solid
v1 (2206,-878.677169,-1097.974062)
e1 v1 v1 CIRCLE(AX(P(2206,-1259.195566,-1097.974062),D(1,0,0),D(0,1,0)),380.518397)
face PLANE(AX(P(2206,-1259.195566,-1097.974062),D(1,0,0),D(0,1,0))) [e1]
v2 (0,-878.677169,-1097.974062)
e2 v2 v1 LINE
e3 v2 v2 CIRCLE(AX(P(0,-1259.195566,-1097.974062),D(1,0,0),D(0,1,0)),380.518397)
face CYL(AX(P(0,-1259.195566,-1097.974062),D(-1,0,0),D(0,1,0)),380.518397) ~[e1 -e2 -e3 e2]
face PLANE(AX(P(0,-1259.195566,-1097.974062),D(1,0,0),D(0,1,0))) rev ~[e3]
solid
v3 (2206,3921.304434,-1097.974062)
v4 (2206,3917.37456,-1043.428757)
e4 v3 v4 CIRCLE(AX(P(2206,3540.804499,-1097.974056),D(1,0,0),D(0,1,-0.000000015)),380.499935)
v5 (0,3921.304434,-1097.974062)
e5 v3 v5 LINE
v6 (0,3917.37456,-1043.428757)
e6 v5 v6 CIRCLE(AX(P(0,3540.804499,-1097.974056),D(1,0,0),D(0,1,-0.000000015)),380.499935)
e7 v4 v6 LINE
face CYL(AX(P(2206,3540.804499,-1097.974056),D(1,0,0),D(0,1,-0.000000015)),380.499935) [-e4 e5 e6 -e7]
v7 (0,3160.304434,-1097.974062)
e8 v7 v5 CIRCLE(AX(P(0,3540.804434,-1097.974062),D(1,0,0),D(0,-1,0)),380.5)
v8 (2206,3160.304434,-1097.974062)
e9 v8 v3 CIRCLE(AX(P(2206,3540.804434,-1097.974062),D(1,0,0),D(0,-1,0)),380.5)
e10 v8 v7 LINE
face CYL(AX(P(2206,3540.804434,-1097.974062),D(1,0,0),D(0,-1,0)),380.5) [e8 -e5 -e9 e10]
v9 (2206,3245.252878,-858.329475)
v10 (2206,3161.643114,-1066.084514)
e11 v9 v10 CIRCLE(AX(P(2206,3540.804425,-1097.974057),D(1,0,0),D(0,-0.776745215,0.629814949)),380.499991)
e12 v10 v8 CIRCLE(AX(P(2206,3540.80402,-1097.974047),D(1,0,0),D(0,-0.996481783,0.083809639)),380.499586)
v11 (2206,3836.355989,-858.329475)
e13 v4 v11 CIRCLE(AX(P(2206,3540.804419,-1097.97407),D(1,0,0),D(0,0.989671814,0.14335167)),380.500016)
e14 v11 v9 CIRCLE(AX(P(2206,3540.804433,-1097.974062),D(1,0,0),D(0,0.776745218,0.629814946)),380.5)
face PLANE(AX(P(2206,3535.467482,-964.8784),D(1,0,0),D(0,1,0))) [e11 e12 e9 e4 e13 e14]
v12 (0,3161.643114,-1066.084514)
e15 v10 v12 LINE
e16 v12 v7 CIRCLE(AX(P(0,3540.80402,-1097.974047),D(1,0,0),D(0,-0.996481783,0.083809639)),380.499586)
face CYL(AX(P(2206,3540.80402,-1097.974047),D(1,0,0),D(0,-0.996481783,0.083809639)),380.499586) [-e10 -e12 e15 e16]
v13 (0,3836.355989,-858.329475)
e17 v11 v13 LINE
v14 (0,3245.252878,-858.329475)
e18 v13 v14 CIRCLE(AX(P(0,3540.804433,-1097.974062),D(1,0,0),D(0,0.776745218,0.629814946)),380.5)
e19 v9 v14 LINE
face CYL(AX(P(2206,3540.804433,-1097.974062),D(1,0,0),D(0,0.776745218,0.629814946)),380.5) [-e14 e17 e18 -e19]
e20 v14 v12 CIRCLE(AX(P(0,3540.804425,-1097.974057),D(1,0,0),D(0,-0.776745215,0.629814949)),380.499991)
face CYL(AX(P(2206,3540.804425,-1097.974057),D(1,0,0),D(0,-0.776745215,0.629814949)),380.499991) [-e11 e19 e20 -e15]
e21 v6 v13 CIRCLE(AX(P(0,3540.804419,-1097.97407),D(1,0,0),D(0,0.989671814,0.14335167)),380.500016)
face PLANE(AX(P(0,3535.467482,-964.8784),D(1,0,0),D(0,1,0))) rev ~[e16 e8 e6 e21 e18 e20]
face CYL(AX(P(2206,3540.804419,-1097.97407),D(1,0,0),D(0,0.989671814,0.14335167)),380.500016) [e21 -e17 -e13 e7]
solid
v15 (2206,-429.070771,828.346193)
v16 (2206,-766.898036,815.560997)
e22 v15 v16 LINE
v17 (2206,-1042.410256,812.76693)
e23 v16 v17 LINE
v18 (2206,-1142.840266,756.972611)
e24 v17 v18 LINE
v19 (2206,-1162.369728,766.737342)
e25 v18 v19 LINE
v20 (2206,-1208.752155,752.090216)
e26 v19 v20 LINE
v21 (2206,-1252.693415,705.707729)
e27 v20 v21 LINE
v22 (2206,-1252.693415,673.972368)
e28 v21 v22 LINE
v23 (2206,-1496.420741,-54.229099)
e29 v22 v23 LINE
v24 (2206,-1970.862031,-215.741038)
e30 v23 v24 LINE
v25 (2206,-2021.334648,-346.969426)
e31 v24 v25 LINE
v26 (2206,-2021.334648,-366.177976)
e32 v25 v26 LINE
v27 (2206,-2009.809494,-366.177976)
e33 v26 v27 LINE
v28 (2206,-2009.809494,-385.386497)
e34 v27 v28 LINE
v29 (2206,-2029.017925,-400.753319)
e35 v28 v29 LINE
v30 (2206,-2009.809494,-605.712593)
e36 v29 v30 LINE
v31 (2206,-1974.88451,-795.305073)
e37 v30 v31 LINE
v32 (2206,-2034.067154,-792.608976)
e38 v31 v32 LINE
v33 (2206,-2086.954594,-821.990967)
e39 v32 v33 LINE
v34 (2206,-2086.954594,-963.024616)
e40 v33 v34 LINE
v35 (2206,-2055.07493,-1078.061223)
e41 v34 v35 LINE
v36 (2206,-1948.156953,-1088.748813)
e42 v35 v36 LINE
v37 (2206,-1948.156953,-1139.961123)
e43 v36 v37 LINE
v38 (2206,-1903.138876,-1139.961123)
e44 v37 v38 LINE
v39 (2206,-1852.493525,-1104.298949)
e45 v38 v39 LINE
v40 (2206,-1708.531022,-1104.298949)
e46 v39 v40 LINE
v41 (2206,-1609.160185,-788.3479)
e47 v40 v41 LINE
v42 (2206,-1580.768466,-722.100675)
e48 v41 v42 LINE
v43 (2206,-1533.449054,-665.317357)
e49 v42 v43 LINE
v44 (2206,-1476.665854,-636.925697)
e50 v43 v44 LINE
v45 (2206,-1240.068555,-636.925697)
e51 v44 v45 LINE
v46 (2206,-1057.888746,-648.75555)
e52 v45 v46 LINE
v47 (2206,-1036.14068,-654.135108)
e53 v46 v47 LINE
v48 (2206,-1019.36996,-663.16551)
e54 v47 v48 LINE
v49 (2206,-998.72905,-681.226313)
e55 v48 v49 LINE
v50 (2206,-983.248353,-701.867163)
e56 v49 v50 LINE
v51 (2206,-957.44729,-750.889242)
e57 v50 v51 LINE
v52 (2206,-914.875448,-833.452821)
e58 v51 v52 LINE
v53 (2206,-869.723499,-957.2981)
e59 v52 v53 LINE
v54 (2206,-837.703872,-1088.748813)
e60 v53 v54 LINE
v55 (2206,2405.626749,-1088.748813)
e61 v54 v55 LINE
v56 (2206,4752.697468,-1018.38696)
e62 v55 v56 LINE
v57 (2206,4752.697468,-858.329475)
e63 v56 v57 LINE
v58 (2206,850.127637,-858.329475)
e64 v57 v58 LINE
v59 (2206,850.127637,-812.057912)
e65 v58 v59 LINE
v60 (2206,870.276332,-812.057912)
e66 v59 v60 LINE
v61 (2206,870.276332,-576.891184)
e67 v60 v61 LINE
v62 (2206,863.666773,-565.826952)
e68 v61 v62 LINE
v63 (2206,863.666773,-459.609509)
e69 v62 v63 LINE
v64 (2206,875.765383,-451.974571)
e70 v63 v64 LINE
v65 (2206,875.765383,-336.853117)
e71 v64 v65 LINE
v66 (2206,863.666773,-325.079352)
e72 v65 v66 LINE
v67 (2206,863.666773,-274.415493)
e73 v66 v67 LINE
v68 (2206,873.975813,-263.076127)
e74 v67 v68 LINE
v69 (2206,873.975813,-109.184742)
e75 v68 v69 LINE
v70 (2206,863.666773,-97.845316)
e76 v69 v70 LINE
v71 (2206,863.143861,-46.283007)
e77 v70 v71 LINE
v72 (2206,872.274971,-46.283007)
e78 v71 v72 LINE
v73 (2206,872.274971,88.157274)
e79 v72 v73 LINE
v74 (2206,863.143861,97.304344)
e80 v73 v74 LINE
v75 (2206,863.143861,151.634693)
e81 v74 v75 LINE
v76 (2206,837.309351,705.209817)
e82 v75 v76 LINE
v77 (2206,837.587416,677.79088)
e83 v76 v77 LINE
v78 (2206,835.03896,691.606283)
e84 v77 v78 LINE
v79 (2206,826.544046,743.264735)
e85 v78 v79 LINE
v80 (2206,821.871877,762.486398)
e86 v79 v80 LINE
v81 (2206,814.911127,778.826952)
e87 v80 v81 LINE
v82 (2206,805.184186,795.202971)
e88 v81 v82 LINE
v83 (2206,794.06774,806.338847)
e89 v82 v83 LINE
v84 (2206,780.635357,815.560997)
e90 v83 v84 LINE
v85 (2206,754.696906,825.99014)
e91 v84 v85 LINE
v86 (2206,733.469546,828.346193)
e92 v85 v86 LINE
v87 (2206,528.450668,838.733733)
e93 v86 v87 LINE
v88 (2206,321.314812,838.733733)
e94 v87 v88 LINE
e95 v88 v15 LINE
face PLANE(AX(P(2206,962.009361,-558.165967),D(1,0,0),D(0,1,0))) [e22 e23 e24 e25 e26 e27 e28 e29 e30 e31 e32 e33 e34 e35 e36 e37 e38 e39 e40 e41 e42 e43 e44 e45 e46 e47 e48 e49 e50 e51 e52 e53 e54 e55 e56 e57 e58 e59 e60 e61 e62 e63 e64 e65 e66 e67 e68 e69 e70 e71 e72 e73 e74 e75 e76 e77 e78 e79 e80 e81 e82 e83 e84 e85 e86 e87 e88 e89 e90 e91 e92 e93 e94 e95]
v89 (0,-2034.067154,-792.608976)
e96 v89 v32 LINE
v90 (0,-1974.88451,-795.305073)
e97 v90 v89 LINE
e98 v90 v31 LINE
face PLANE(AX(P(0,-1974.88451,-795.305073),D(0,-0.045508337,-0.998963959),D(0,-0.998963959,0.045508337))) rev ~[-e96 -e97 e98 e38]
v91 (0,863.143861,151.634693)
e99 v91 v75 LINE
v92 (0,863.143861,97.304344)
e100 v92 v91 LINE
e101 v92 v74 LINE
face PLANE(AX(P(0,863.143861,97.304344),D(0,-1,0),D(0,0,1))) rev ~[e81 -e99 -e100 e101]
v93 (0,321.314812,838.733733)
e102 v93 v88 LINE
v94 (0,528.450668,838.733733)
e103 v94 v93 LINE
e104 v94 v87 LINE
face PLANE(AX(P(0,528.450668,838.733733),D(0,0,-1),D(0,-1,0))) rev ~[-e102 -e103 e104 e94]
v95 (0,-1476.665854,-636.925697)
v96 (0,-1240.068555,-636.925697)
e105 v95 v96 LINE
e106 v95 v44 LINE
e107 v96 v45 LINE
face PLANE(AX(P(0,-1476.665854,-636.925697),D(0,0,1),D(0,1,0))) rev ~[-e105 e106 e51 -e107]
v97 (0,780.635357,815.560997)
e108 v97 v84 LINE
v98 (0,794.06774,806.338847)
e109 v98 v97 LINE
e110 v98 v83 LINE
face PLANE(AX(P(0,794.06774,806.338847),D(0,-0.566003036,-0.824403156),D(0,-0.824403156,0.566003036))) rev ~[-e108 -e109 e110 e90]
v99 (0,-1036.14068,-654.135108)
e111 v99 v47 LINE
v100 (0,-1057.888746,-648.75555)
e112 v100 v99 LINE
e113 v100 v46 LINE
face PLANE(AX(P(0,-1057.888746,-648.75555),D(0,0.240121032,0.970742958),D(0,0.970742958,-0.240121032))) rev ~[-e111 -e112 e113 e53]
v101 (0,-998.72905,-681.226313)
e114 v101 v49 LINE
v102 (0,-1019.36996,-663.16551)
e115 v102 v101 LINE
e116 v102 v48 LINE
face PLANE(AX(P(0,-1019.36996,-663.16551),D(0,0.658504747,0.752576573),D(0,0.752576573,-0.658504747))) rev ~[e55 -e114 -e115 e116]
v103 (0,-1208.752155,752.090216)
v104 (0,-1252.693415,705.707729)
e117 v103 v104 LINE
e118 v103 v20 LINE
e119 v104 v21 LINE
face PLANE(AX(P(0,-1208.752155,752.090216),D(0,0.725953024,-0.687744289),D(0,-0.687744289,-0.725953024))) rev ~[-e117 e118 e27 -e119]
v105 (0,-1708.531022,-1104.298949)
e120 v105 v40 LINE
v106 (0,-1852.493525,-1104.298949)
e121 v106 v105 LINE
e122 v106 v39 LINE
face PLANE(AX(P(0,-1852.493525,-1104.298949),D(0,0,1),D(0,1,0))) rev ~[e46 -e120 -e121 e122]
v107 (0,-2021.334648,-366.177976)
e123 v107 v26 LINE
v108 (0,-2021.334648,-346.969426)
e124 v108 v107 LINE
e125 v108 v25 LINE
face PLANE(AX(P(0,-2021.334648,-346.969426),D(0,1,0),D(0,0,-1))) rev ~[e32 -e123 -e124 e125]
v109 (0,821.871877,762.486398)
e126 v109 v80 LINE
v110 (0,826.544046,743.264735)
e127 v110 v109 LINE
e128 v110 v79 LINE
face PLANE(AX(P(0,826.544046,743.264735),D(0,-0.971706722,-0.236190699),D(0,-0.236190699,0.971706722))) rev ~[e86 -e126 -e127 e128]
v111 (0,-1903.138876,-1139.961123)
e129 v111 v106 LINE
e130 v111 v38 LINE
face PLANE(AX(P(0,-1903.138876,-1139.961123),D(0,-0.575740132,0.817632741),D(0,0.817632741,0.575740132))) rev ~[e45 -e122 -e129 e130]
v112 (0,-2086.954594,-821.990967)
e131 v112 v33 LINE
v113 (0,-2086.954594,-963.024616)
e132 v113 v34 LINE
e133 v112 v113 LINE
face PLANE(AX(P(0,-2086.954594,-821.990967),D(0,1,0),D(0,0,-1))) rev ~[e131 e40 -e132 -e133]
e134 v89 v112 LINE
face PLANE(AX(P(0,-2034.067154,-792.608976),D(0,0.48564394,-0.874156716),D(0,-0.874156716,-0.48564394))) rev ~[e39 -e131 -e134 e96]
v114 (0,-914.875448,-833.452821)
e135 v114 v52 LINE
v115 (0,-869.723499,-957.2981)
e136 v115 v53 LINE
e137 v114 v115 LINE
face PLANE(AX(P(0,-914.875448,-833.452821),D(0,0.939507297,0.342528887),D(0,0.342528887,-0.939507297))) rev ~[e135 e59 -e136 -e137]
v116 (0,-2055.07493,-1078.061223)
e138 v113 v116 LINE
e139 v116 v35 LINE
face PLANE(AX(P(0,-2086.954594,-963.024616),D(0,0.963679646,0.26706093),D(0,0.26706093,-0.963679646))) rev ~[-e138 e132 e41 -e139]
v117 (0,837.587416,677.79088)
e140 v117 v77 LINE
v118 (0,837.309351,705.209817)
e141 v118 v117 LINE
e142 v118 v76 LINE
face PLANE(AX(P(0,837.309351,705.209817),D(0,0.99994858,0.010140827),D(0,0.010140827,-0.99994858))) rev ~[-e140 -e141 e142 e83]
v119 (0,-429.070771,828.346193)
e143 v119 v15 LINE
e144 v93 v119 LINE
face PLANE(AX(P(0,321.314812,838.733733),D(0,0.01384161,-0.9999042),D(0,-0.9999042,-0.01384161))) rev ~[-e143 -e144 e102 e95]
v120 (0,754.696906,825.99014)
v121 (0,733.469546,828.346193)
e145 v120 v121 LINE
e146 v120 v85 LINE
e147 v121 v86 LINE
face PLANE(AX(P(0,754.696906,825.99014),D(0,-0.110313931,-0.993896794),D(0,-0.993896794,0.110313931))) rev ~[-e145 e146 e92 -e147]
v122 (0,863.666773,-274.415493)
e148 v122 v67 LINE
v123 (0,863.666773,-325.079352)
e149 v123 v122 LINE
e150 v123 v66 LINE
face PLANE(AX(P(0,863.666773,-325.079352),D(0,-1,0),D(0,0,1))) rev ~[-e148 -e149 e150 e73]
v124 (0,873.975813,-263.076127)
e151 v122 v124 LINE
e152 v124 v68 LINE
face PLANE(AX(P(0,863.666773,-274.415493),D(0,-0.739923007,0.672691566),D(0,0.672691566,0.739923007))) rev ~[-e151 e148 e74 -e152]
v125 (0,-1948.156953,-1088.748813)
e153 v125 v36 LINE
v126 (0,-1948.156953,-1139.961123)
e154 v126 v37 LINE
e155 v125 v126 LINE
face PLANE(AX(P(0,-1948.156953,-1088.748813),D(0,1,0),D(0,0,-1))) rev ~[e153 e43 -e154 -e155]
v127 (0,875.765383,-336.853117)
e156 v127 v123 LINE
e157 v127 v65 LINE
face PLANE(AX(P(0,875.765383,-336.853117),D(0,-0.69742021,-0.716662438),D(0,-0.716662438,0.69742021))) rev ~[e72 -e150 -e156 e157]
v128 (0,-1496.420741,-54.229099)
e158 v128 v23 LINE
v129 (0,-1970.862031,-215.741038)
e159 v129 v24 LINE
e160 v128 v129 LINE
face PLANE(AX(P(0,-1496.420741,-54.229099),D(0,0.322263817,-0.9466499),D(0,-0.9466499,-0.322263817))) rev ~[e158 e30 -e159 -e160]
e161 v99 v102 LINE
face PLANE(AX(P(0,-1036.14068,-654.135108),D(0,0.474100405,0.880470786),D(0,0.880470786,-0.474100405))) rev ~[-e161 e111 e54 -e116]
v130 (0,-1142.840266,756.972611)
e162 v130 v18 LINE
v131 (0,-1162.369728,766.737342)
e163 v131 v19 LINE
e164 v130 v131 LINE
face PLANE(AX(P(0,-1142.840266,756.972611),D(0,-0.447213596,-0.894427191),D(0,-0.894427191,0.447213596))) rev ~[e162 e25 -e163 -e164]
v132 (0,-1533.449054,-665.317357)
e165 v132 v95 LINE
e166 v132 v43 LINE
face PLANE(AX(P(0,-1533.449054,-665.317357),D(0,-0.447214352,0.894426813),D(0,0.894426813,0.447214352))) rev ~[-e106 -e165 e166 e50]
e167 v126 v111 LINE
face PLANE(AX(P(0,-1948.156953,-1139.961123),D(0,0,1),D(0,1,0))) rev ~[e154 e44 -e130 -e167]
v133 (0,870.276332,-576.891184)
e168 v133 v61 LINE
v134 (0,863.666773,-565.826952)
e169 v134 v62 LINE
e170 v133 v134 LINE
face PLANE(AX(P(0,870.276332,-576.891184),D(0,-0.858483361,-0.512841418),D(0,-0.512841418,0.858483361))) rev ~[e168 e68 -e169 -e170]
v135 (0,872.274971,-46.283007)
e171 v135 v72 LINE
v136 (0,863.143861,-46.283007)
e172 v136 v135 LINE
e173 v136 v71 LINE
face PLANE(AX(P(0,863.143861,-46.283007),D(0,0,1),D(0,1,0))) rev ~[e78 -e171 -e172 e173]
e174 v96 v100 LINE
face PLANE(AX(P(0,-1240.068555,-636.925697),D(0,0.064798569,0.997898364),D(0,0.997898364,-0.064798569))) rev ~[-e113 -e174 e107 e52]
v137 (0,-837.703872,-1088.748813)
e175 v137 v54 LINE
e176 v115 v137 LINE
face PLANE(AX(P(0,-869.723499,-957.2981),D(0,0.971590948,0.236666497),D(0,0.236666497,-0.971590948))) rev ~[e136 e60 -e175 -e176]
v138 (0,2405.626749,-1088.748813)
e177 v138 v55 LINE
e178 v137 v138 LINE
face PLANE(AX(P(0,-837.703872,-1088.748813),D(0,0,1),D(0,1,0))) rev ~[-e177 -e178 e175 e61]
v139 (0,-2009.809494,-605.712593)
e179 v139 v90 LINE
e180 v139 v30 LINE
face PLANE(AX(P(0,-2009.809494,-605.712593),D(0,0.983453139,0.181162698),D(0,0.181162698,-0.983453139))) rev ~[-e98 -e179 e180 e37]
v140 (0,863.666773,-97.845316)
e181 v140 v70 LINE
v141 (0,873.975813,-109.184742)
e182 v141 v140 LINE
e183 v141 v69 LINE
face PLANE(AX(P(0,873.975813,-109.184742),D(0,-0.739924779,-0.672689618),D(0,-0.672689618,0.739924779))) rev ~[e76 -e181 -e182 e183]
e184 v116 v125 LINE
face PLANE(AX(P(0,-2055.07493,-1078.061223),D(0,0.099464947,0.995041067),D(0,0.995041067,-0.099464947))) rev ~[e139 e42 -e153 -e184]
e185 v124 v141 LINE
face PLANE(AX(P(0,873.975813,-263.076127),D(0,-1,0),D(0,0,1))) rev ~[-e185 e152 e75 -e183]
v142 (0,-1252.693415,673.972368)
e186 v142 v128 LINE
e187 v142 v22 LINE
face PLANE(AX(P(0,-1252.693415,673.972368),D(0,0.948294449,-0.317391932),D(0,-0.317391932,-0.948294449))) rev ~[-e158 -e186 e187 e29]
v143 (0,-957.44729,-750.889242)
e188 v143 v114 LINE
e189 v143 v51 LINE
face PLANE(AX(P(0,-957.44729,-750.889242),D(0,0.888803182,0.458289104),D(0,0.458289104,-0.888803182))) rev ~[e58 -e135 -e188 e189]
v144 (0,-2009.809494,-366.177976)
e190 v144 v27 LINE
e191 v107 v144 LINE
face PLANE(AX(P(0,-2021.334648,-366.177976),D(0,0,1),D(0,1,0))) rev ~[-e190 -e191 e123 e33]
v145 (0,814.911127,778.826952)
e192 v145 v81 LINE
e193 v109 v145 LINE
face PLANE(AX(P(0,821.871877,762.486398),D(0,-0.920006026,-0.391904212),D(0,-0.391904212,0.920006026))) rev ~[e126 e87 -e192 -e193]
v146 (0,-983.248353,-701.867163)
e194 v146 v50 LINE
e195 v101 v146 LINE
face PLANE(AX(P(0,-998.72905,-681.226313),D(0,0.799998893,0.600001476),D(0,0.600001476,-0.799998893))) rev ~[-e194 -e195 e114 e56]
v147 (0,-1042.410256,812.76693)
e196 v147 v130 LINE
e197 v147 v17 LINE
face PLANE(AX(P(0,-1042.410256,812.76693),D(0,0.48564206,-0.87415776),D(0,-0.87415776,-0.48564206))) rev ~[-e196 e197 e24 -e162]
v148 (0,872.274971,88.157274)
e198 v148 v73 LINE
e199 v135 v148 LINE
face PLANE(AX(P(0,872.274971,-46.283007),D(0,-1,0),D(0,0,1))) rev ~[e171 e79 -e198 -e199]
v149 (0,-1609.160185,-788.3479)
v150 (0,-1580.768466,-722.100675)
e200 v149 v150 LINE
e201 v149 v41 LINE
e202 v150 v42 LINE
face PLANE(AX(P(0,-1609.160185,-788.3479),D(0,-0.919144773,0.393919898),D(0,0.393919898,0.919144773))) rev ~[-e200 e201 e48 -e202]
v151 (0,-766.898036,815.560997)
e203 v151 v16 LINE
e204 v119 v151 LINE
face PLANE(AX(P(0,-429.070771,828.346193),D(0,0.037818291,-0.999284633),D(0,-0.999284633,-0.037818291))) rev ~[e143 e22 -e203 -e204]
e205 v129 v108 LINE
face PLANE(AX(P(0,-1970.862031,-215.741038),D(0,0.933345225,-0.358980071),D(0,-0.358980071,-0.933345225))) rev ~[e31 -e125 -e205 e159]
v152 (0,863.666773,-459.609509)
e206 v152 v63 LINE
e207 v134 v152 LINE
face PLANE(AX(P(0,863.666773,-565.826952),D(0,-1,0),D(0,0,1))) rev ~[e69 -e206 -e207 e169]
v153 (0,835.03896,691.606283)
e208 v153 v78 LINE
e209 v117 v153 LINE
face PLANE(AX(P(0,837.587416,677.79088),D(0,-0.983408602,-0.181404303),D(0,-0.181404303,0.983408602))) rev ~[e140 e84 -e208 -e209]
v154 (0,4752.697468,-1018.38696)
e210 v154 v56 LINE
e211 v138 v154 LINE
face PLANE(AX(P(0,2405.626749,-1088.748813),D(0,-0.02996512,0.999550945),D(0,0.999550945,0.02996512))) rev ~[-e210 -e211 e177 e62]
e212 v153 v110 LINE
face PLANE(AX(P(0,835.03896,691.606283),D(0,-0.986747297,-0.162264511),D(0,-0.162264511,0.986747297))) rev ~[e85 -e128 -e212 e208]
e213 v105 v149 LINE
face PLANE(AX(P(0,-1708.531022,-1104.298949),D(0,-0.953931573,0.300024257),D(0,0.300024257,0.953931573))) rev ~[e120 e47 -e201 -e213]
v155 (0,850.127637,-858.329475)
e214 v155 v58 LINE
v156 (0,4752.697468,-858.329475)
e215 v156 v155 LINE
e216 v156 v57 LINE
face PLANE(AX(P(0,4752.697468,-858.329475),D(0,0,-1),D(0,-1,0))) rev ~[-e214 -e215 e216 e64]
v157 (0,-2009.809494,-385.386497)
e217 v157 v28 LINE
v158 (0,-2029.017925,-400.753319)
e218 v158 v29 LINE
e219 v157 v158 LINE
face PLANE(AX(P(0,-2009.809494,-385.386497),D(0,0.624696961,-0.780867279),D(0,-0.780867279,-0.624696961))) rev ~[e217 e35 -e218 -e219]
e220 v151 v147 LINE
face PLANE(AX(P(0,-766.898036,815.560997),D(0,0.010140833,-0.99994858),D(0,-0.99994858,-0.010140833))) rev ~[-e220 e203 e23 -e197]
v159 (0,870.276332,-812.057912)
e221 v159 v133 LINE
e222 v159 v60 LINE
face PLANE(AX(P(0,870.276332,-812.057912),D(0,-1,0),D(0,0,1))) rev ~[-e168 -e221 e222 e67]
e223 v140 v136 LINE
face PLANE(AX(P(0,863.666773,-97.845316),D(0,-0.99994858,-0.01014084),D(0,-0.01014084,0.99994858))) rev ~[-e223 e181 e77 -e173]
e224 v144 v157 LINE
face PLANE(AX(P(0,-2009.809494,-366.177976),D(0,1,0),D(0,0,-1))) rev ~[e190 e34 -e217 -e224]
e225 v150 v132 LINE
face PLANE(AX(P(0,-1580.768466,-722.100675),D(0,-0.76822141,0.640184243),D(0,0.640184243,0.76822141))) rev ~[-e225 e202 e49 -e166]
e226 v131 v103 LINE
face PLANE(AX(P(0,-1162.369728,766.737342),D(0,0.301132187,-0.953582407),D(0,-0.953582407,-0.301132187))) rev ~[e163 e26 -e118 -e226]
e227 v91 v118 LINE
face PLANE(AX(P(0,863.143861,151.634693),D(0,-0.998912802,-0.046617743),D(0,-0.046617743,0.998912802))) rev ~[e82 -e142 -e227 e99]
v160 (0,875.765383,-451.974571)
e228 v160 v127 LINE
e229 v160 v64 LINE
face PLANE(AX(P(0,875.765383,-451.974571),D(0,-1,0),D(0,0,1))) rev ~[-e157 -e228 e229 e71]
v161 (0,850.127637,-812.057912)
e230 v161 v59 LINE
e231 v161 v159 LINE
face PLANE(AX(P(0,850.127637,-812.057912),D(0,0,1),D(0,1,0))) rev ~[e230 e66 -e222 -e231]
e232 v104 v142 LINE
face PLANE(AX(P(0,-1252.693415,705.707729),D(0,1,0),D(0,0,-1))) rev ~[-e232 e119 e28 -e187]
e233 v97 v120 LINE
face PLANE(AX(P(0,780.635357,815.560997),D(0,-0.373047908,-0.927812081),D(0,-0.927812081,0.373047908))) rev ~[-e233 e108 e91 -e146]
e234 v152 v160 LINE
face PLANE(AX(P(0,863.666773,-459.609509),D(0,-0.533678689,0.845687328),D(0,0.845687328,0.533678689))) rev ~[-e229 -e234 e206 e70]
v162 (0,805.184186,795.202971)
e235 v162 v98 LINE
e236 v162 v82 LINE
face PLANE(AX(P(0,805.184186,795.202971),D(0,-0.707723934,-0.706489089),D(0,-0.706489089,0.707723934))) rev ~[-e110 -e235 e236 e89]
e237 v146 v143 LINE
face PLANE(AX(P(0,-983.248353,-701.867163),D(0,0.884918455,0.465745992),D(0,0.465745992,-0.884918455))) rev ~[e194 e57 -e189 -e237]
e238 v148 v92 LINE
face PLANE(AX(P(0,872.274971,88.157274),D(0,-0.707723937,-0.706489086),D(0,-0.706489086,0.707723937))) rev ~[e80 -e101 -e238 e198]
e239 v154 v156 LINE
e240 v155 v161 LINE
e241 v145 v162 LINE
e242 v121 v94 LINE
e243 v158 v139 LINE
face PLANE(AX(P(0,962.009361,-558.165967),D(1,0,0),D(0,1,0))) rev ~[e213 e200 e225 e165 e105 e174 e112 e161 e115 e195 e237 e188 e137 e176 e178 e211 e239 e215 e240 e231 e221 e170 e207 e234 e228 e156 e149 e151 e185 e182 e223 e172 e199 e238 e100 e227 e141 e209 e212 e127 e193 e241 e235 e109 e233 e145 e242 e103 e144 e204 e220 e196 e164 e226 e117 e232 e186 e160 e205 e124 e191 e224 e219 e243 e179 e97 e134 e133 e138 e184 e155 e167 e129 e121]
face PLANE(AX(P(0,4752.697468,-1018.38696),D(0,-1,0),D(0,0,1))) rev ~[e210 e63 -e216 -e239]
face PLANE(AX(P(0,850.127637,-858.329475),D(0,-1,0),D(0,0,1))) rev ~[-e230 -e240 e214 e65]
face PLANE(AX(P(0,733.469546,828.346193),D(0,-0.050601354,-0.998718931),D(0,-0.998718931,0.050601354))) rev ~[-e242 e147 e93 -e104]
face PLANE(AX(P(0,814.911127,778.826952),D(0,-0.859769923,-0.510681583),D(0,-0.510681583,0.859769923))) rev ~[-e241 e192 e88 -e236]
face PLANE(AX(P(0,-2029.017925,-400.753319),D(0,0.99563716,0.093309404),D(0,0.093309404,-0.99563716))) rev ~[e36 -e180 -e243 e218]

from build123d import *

# Parameters (mm, degrees)
F1_DEPTH = 2206
F0_R     = 380.518397
F2_DEPTH = 2206
F4_DEPTH = 2206


with BuildPart() as f1:
    # F0 (on Right) → F1 (new body)
    with BuildSketch(Plane.YZ):
        Polygon((-2009.809494, -605.712593), (-1974.88451, -795.305073), (-2034.067154, -792.608976), (-2086.954594, -821.990967), (-2086.954594, -963.024616), (-2055.07493, -1078.061223), (-1948.156953, -1088.748813), (-1948.156953, -1139.961123), (-1903.138876, -1139.961123), (-1852.493525, -1104.298949), (-1708.531022, -1104.298949), (-1609.160185, -788.3479), (-1580.768466, -722.100675), (-1533.449054, -665.317357), (-1476.665854, -636.925697), (-1419.882536, -636.925697), (-1240.068555, -636.925697), (-1057.888746, -648.75555), (-1036.14068, -654.135108), (-1019.36996, -663.16551), (-998.72905, -681.226313), (-983.248353, -701.867163), (-957.44729, -750.889242), (-914.875448, -833.452821), (-869.723499, -957.2981), (-837.703872, -1088.748813), (2405.626749, -1088.748813), (4752.697468, -1018.38696), (4752.697468, -858.329475), (850.127637, -858.329475), (850.127637, -812.057912), (870.276332, -812.057912), (870.276332, -576.891184), (863.666773, -565.826952), (863.666773, -459.609509), (875.765383, -451.974571), (875.765383, -336.853117), (863.666773, -325.079352), (863.666773, -274.415493), (873.975813, -263.076127), (873.975813, -109.184742), (863.666773, -97.845316), (863.143861, -46.283007), (872.274971, -46.283007), (872.274971, 88.157274), (863.143861, 97.304344), (863.143861, 136.111572), (863.143861, 151.634693), (837.309351, 705.209817), (837.587416, 677.79088), (835.03896, 691.606283), (826.544046, 743.264735), (821.871877, 762.486398), (814.911127, 778.826952), (805.184186, 795.202971), (794.06774, 806.338847), (780.635357, 815.560997), (754.696906, 825.99014), (733.469546, 828.346193), (528.450668, 838.733733), (321.314812, 838.733733), (-429.070771, 828.346193), (-766.898036, 815.560997), (-1042.410256, 812.76693), (-1142.840266, 756.972611), (-1162.369728, 766.737342), (-1208.752155, 752.090216), (-1252.693415, 705.707729), (-1252.693415, 673.972368), (-1496.420741, -54.229099), (-1970.862031, -215.741038), (-2021.334648, -346.969426), (-2021.334648, -366.177976), (-2009.809494, -366.177976), (-2009.809494, -385.386497), (-2029.017925, -400.753319), align=None)
    extrude(amount=F1_DEPTH)

    # F0 (on Right) → F2 (join)
    with BuildSketch(Plane.YZ):
        Polygon((-2009.809494, -605.712593), (-1974.88451, -795.305073), (-2034.067154, -792.608976), (-2086.954594, -821.990967), (-2086.954594, -963.024616), (-2055.07493, -1078.061223), (-1948.156953, -1088.748813), (-1948.156953, -1139.961123), (-1903.138876, -1139.961123), (-1852.493525, -1104.298949), (-1708.531022, -1104.298949), (-1609.160185, -788.3479), (-1580.768466, -722.100675), (-1533.449054, -665.317357), (-1476.665854, -636.925697), (-1419.882536, -636.925697), (-1240.068555, -636.925697), (-1057.888746, -648.75555), (-1036.14068, -654.135108), (-1019.36996, -663.16551), (-998.72905, -681.226313), (-983.248353, -701.867163), (-957.44729, -750.889242), (-914.875448, -833.452821), (-869.723499, -957.2981), (-837.703872, -1088.748813), (2405.626749, -1088.748813), (4752.697468, -1018.38696), (4752.697468, -858.329475), (850.127637, -858.329475), (850.127637, -812.057912), (870.276332, -812.057912), (870.276332, -576.891184), (863.666773, -565.826952), (863.666773, -459.609509), (875.765383, -451.974571), (875.765383, -336.853117), (863.666773, -325.079352), (863.666773, -274.415493), (873.975813, -263.076127), (873.975813, -109.184742), (863.666773, -97.845316), (863.143861, -46.283007), (872.274971, -46.283007), (872.274971, 88.157274), (863.143861, 97.304344), (863.143861, 136.111572), (863.143861, 151.634693), (837.309351, 705.209817), (837.587416, 677.79088), (835.03896, 691.606283), (826.544046, 743.264735), (821.871877, 762.486398), (814.911127, 778.826952), (805.184186, 795.202971), (794.06774, 806.338847), (780.635357, 815.560997), (754.696906, 825.99014), (733.469546, 828.346193), (528.450668, 838.733733), (321.314812, 838.733733), (-429.070771, 828.346193), (-766.898036, 815.560997), (-1042.410256, 812.76693), (-1142.840266, 756.972611), (-1162.369728, 766.737342), (-1208.752155, 752.090216), (-1252.693415, 705.707729), (-1252.693415, 673.972368), (-1496.420741, -54.229099), (-1970.862031, -215.741038), (-2021.334648, -346.969426), (-2021.334648, -366.177976), (-2009.809494, -366.177976), (-2009.809494, -385.386497), (-2029.017925, -400.753319), align=None)
        with Locations((-1259.195566, -1097.974062)):
            Circle(F0_R)
    extrude(amount=F2_DEPTH)


with BuildPart() as f4:
    # F3 (on face) → F4 (new body)
    with BuildSketch(Plane.YZ.offset(2206)):
        with BuildLine():
            Line((3161.643114, -1066.084514), (3917.37456, -1043.428757))
            ThreePointArc((3917.37456, -1043.428757), (3889.376269, -945.403012), (3836.355989, -858.329475))
            Line((3836.355989, -858.329475), (3245.252878, -858.329475))
            ThreePointArc((3245.252878, -858.329475), (3187.817316, -955.916521), (3161.643114, -1066.084514))
        make_face()
        with BuildLine():
            Line((3245.252878, -858.329475), (3836.355989, -858.329475))
            ThreePointArc((3836.355989, -858.329475), (3540.804434, -717.474062), (3245.252878, -858.329475))
        make_face()
        with BuildLine():
            ThreePointArc((3160.304434, -1097.974062), (3540.804434, -1478.474062), (3921.304434, -1097.974062))
            ThreePointArc((3921.304434, -1097.974062), (3920.320694, -1070.630716), (3917.37456, -1043.428757))
            Line((3917.37456, -1043.428757), (3161.643114, -1066.084514))
            ThreePointArc((3161.643114, -1066.084514), (3160.639251, -1082.015245), (3160.304434, -1097.974062))
        make_face()
    extrude(amount=-F4_DEPTH)


solid = Compound([f1.part, f4.part])
